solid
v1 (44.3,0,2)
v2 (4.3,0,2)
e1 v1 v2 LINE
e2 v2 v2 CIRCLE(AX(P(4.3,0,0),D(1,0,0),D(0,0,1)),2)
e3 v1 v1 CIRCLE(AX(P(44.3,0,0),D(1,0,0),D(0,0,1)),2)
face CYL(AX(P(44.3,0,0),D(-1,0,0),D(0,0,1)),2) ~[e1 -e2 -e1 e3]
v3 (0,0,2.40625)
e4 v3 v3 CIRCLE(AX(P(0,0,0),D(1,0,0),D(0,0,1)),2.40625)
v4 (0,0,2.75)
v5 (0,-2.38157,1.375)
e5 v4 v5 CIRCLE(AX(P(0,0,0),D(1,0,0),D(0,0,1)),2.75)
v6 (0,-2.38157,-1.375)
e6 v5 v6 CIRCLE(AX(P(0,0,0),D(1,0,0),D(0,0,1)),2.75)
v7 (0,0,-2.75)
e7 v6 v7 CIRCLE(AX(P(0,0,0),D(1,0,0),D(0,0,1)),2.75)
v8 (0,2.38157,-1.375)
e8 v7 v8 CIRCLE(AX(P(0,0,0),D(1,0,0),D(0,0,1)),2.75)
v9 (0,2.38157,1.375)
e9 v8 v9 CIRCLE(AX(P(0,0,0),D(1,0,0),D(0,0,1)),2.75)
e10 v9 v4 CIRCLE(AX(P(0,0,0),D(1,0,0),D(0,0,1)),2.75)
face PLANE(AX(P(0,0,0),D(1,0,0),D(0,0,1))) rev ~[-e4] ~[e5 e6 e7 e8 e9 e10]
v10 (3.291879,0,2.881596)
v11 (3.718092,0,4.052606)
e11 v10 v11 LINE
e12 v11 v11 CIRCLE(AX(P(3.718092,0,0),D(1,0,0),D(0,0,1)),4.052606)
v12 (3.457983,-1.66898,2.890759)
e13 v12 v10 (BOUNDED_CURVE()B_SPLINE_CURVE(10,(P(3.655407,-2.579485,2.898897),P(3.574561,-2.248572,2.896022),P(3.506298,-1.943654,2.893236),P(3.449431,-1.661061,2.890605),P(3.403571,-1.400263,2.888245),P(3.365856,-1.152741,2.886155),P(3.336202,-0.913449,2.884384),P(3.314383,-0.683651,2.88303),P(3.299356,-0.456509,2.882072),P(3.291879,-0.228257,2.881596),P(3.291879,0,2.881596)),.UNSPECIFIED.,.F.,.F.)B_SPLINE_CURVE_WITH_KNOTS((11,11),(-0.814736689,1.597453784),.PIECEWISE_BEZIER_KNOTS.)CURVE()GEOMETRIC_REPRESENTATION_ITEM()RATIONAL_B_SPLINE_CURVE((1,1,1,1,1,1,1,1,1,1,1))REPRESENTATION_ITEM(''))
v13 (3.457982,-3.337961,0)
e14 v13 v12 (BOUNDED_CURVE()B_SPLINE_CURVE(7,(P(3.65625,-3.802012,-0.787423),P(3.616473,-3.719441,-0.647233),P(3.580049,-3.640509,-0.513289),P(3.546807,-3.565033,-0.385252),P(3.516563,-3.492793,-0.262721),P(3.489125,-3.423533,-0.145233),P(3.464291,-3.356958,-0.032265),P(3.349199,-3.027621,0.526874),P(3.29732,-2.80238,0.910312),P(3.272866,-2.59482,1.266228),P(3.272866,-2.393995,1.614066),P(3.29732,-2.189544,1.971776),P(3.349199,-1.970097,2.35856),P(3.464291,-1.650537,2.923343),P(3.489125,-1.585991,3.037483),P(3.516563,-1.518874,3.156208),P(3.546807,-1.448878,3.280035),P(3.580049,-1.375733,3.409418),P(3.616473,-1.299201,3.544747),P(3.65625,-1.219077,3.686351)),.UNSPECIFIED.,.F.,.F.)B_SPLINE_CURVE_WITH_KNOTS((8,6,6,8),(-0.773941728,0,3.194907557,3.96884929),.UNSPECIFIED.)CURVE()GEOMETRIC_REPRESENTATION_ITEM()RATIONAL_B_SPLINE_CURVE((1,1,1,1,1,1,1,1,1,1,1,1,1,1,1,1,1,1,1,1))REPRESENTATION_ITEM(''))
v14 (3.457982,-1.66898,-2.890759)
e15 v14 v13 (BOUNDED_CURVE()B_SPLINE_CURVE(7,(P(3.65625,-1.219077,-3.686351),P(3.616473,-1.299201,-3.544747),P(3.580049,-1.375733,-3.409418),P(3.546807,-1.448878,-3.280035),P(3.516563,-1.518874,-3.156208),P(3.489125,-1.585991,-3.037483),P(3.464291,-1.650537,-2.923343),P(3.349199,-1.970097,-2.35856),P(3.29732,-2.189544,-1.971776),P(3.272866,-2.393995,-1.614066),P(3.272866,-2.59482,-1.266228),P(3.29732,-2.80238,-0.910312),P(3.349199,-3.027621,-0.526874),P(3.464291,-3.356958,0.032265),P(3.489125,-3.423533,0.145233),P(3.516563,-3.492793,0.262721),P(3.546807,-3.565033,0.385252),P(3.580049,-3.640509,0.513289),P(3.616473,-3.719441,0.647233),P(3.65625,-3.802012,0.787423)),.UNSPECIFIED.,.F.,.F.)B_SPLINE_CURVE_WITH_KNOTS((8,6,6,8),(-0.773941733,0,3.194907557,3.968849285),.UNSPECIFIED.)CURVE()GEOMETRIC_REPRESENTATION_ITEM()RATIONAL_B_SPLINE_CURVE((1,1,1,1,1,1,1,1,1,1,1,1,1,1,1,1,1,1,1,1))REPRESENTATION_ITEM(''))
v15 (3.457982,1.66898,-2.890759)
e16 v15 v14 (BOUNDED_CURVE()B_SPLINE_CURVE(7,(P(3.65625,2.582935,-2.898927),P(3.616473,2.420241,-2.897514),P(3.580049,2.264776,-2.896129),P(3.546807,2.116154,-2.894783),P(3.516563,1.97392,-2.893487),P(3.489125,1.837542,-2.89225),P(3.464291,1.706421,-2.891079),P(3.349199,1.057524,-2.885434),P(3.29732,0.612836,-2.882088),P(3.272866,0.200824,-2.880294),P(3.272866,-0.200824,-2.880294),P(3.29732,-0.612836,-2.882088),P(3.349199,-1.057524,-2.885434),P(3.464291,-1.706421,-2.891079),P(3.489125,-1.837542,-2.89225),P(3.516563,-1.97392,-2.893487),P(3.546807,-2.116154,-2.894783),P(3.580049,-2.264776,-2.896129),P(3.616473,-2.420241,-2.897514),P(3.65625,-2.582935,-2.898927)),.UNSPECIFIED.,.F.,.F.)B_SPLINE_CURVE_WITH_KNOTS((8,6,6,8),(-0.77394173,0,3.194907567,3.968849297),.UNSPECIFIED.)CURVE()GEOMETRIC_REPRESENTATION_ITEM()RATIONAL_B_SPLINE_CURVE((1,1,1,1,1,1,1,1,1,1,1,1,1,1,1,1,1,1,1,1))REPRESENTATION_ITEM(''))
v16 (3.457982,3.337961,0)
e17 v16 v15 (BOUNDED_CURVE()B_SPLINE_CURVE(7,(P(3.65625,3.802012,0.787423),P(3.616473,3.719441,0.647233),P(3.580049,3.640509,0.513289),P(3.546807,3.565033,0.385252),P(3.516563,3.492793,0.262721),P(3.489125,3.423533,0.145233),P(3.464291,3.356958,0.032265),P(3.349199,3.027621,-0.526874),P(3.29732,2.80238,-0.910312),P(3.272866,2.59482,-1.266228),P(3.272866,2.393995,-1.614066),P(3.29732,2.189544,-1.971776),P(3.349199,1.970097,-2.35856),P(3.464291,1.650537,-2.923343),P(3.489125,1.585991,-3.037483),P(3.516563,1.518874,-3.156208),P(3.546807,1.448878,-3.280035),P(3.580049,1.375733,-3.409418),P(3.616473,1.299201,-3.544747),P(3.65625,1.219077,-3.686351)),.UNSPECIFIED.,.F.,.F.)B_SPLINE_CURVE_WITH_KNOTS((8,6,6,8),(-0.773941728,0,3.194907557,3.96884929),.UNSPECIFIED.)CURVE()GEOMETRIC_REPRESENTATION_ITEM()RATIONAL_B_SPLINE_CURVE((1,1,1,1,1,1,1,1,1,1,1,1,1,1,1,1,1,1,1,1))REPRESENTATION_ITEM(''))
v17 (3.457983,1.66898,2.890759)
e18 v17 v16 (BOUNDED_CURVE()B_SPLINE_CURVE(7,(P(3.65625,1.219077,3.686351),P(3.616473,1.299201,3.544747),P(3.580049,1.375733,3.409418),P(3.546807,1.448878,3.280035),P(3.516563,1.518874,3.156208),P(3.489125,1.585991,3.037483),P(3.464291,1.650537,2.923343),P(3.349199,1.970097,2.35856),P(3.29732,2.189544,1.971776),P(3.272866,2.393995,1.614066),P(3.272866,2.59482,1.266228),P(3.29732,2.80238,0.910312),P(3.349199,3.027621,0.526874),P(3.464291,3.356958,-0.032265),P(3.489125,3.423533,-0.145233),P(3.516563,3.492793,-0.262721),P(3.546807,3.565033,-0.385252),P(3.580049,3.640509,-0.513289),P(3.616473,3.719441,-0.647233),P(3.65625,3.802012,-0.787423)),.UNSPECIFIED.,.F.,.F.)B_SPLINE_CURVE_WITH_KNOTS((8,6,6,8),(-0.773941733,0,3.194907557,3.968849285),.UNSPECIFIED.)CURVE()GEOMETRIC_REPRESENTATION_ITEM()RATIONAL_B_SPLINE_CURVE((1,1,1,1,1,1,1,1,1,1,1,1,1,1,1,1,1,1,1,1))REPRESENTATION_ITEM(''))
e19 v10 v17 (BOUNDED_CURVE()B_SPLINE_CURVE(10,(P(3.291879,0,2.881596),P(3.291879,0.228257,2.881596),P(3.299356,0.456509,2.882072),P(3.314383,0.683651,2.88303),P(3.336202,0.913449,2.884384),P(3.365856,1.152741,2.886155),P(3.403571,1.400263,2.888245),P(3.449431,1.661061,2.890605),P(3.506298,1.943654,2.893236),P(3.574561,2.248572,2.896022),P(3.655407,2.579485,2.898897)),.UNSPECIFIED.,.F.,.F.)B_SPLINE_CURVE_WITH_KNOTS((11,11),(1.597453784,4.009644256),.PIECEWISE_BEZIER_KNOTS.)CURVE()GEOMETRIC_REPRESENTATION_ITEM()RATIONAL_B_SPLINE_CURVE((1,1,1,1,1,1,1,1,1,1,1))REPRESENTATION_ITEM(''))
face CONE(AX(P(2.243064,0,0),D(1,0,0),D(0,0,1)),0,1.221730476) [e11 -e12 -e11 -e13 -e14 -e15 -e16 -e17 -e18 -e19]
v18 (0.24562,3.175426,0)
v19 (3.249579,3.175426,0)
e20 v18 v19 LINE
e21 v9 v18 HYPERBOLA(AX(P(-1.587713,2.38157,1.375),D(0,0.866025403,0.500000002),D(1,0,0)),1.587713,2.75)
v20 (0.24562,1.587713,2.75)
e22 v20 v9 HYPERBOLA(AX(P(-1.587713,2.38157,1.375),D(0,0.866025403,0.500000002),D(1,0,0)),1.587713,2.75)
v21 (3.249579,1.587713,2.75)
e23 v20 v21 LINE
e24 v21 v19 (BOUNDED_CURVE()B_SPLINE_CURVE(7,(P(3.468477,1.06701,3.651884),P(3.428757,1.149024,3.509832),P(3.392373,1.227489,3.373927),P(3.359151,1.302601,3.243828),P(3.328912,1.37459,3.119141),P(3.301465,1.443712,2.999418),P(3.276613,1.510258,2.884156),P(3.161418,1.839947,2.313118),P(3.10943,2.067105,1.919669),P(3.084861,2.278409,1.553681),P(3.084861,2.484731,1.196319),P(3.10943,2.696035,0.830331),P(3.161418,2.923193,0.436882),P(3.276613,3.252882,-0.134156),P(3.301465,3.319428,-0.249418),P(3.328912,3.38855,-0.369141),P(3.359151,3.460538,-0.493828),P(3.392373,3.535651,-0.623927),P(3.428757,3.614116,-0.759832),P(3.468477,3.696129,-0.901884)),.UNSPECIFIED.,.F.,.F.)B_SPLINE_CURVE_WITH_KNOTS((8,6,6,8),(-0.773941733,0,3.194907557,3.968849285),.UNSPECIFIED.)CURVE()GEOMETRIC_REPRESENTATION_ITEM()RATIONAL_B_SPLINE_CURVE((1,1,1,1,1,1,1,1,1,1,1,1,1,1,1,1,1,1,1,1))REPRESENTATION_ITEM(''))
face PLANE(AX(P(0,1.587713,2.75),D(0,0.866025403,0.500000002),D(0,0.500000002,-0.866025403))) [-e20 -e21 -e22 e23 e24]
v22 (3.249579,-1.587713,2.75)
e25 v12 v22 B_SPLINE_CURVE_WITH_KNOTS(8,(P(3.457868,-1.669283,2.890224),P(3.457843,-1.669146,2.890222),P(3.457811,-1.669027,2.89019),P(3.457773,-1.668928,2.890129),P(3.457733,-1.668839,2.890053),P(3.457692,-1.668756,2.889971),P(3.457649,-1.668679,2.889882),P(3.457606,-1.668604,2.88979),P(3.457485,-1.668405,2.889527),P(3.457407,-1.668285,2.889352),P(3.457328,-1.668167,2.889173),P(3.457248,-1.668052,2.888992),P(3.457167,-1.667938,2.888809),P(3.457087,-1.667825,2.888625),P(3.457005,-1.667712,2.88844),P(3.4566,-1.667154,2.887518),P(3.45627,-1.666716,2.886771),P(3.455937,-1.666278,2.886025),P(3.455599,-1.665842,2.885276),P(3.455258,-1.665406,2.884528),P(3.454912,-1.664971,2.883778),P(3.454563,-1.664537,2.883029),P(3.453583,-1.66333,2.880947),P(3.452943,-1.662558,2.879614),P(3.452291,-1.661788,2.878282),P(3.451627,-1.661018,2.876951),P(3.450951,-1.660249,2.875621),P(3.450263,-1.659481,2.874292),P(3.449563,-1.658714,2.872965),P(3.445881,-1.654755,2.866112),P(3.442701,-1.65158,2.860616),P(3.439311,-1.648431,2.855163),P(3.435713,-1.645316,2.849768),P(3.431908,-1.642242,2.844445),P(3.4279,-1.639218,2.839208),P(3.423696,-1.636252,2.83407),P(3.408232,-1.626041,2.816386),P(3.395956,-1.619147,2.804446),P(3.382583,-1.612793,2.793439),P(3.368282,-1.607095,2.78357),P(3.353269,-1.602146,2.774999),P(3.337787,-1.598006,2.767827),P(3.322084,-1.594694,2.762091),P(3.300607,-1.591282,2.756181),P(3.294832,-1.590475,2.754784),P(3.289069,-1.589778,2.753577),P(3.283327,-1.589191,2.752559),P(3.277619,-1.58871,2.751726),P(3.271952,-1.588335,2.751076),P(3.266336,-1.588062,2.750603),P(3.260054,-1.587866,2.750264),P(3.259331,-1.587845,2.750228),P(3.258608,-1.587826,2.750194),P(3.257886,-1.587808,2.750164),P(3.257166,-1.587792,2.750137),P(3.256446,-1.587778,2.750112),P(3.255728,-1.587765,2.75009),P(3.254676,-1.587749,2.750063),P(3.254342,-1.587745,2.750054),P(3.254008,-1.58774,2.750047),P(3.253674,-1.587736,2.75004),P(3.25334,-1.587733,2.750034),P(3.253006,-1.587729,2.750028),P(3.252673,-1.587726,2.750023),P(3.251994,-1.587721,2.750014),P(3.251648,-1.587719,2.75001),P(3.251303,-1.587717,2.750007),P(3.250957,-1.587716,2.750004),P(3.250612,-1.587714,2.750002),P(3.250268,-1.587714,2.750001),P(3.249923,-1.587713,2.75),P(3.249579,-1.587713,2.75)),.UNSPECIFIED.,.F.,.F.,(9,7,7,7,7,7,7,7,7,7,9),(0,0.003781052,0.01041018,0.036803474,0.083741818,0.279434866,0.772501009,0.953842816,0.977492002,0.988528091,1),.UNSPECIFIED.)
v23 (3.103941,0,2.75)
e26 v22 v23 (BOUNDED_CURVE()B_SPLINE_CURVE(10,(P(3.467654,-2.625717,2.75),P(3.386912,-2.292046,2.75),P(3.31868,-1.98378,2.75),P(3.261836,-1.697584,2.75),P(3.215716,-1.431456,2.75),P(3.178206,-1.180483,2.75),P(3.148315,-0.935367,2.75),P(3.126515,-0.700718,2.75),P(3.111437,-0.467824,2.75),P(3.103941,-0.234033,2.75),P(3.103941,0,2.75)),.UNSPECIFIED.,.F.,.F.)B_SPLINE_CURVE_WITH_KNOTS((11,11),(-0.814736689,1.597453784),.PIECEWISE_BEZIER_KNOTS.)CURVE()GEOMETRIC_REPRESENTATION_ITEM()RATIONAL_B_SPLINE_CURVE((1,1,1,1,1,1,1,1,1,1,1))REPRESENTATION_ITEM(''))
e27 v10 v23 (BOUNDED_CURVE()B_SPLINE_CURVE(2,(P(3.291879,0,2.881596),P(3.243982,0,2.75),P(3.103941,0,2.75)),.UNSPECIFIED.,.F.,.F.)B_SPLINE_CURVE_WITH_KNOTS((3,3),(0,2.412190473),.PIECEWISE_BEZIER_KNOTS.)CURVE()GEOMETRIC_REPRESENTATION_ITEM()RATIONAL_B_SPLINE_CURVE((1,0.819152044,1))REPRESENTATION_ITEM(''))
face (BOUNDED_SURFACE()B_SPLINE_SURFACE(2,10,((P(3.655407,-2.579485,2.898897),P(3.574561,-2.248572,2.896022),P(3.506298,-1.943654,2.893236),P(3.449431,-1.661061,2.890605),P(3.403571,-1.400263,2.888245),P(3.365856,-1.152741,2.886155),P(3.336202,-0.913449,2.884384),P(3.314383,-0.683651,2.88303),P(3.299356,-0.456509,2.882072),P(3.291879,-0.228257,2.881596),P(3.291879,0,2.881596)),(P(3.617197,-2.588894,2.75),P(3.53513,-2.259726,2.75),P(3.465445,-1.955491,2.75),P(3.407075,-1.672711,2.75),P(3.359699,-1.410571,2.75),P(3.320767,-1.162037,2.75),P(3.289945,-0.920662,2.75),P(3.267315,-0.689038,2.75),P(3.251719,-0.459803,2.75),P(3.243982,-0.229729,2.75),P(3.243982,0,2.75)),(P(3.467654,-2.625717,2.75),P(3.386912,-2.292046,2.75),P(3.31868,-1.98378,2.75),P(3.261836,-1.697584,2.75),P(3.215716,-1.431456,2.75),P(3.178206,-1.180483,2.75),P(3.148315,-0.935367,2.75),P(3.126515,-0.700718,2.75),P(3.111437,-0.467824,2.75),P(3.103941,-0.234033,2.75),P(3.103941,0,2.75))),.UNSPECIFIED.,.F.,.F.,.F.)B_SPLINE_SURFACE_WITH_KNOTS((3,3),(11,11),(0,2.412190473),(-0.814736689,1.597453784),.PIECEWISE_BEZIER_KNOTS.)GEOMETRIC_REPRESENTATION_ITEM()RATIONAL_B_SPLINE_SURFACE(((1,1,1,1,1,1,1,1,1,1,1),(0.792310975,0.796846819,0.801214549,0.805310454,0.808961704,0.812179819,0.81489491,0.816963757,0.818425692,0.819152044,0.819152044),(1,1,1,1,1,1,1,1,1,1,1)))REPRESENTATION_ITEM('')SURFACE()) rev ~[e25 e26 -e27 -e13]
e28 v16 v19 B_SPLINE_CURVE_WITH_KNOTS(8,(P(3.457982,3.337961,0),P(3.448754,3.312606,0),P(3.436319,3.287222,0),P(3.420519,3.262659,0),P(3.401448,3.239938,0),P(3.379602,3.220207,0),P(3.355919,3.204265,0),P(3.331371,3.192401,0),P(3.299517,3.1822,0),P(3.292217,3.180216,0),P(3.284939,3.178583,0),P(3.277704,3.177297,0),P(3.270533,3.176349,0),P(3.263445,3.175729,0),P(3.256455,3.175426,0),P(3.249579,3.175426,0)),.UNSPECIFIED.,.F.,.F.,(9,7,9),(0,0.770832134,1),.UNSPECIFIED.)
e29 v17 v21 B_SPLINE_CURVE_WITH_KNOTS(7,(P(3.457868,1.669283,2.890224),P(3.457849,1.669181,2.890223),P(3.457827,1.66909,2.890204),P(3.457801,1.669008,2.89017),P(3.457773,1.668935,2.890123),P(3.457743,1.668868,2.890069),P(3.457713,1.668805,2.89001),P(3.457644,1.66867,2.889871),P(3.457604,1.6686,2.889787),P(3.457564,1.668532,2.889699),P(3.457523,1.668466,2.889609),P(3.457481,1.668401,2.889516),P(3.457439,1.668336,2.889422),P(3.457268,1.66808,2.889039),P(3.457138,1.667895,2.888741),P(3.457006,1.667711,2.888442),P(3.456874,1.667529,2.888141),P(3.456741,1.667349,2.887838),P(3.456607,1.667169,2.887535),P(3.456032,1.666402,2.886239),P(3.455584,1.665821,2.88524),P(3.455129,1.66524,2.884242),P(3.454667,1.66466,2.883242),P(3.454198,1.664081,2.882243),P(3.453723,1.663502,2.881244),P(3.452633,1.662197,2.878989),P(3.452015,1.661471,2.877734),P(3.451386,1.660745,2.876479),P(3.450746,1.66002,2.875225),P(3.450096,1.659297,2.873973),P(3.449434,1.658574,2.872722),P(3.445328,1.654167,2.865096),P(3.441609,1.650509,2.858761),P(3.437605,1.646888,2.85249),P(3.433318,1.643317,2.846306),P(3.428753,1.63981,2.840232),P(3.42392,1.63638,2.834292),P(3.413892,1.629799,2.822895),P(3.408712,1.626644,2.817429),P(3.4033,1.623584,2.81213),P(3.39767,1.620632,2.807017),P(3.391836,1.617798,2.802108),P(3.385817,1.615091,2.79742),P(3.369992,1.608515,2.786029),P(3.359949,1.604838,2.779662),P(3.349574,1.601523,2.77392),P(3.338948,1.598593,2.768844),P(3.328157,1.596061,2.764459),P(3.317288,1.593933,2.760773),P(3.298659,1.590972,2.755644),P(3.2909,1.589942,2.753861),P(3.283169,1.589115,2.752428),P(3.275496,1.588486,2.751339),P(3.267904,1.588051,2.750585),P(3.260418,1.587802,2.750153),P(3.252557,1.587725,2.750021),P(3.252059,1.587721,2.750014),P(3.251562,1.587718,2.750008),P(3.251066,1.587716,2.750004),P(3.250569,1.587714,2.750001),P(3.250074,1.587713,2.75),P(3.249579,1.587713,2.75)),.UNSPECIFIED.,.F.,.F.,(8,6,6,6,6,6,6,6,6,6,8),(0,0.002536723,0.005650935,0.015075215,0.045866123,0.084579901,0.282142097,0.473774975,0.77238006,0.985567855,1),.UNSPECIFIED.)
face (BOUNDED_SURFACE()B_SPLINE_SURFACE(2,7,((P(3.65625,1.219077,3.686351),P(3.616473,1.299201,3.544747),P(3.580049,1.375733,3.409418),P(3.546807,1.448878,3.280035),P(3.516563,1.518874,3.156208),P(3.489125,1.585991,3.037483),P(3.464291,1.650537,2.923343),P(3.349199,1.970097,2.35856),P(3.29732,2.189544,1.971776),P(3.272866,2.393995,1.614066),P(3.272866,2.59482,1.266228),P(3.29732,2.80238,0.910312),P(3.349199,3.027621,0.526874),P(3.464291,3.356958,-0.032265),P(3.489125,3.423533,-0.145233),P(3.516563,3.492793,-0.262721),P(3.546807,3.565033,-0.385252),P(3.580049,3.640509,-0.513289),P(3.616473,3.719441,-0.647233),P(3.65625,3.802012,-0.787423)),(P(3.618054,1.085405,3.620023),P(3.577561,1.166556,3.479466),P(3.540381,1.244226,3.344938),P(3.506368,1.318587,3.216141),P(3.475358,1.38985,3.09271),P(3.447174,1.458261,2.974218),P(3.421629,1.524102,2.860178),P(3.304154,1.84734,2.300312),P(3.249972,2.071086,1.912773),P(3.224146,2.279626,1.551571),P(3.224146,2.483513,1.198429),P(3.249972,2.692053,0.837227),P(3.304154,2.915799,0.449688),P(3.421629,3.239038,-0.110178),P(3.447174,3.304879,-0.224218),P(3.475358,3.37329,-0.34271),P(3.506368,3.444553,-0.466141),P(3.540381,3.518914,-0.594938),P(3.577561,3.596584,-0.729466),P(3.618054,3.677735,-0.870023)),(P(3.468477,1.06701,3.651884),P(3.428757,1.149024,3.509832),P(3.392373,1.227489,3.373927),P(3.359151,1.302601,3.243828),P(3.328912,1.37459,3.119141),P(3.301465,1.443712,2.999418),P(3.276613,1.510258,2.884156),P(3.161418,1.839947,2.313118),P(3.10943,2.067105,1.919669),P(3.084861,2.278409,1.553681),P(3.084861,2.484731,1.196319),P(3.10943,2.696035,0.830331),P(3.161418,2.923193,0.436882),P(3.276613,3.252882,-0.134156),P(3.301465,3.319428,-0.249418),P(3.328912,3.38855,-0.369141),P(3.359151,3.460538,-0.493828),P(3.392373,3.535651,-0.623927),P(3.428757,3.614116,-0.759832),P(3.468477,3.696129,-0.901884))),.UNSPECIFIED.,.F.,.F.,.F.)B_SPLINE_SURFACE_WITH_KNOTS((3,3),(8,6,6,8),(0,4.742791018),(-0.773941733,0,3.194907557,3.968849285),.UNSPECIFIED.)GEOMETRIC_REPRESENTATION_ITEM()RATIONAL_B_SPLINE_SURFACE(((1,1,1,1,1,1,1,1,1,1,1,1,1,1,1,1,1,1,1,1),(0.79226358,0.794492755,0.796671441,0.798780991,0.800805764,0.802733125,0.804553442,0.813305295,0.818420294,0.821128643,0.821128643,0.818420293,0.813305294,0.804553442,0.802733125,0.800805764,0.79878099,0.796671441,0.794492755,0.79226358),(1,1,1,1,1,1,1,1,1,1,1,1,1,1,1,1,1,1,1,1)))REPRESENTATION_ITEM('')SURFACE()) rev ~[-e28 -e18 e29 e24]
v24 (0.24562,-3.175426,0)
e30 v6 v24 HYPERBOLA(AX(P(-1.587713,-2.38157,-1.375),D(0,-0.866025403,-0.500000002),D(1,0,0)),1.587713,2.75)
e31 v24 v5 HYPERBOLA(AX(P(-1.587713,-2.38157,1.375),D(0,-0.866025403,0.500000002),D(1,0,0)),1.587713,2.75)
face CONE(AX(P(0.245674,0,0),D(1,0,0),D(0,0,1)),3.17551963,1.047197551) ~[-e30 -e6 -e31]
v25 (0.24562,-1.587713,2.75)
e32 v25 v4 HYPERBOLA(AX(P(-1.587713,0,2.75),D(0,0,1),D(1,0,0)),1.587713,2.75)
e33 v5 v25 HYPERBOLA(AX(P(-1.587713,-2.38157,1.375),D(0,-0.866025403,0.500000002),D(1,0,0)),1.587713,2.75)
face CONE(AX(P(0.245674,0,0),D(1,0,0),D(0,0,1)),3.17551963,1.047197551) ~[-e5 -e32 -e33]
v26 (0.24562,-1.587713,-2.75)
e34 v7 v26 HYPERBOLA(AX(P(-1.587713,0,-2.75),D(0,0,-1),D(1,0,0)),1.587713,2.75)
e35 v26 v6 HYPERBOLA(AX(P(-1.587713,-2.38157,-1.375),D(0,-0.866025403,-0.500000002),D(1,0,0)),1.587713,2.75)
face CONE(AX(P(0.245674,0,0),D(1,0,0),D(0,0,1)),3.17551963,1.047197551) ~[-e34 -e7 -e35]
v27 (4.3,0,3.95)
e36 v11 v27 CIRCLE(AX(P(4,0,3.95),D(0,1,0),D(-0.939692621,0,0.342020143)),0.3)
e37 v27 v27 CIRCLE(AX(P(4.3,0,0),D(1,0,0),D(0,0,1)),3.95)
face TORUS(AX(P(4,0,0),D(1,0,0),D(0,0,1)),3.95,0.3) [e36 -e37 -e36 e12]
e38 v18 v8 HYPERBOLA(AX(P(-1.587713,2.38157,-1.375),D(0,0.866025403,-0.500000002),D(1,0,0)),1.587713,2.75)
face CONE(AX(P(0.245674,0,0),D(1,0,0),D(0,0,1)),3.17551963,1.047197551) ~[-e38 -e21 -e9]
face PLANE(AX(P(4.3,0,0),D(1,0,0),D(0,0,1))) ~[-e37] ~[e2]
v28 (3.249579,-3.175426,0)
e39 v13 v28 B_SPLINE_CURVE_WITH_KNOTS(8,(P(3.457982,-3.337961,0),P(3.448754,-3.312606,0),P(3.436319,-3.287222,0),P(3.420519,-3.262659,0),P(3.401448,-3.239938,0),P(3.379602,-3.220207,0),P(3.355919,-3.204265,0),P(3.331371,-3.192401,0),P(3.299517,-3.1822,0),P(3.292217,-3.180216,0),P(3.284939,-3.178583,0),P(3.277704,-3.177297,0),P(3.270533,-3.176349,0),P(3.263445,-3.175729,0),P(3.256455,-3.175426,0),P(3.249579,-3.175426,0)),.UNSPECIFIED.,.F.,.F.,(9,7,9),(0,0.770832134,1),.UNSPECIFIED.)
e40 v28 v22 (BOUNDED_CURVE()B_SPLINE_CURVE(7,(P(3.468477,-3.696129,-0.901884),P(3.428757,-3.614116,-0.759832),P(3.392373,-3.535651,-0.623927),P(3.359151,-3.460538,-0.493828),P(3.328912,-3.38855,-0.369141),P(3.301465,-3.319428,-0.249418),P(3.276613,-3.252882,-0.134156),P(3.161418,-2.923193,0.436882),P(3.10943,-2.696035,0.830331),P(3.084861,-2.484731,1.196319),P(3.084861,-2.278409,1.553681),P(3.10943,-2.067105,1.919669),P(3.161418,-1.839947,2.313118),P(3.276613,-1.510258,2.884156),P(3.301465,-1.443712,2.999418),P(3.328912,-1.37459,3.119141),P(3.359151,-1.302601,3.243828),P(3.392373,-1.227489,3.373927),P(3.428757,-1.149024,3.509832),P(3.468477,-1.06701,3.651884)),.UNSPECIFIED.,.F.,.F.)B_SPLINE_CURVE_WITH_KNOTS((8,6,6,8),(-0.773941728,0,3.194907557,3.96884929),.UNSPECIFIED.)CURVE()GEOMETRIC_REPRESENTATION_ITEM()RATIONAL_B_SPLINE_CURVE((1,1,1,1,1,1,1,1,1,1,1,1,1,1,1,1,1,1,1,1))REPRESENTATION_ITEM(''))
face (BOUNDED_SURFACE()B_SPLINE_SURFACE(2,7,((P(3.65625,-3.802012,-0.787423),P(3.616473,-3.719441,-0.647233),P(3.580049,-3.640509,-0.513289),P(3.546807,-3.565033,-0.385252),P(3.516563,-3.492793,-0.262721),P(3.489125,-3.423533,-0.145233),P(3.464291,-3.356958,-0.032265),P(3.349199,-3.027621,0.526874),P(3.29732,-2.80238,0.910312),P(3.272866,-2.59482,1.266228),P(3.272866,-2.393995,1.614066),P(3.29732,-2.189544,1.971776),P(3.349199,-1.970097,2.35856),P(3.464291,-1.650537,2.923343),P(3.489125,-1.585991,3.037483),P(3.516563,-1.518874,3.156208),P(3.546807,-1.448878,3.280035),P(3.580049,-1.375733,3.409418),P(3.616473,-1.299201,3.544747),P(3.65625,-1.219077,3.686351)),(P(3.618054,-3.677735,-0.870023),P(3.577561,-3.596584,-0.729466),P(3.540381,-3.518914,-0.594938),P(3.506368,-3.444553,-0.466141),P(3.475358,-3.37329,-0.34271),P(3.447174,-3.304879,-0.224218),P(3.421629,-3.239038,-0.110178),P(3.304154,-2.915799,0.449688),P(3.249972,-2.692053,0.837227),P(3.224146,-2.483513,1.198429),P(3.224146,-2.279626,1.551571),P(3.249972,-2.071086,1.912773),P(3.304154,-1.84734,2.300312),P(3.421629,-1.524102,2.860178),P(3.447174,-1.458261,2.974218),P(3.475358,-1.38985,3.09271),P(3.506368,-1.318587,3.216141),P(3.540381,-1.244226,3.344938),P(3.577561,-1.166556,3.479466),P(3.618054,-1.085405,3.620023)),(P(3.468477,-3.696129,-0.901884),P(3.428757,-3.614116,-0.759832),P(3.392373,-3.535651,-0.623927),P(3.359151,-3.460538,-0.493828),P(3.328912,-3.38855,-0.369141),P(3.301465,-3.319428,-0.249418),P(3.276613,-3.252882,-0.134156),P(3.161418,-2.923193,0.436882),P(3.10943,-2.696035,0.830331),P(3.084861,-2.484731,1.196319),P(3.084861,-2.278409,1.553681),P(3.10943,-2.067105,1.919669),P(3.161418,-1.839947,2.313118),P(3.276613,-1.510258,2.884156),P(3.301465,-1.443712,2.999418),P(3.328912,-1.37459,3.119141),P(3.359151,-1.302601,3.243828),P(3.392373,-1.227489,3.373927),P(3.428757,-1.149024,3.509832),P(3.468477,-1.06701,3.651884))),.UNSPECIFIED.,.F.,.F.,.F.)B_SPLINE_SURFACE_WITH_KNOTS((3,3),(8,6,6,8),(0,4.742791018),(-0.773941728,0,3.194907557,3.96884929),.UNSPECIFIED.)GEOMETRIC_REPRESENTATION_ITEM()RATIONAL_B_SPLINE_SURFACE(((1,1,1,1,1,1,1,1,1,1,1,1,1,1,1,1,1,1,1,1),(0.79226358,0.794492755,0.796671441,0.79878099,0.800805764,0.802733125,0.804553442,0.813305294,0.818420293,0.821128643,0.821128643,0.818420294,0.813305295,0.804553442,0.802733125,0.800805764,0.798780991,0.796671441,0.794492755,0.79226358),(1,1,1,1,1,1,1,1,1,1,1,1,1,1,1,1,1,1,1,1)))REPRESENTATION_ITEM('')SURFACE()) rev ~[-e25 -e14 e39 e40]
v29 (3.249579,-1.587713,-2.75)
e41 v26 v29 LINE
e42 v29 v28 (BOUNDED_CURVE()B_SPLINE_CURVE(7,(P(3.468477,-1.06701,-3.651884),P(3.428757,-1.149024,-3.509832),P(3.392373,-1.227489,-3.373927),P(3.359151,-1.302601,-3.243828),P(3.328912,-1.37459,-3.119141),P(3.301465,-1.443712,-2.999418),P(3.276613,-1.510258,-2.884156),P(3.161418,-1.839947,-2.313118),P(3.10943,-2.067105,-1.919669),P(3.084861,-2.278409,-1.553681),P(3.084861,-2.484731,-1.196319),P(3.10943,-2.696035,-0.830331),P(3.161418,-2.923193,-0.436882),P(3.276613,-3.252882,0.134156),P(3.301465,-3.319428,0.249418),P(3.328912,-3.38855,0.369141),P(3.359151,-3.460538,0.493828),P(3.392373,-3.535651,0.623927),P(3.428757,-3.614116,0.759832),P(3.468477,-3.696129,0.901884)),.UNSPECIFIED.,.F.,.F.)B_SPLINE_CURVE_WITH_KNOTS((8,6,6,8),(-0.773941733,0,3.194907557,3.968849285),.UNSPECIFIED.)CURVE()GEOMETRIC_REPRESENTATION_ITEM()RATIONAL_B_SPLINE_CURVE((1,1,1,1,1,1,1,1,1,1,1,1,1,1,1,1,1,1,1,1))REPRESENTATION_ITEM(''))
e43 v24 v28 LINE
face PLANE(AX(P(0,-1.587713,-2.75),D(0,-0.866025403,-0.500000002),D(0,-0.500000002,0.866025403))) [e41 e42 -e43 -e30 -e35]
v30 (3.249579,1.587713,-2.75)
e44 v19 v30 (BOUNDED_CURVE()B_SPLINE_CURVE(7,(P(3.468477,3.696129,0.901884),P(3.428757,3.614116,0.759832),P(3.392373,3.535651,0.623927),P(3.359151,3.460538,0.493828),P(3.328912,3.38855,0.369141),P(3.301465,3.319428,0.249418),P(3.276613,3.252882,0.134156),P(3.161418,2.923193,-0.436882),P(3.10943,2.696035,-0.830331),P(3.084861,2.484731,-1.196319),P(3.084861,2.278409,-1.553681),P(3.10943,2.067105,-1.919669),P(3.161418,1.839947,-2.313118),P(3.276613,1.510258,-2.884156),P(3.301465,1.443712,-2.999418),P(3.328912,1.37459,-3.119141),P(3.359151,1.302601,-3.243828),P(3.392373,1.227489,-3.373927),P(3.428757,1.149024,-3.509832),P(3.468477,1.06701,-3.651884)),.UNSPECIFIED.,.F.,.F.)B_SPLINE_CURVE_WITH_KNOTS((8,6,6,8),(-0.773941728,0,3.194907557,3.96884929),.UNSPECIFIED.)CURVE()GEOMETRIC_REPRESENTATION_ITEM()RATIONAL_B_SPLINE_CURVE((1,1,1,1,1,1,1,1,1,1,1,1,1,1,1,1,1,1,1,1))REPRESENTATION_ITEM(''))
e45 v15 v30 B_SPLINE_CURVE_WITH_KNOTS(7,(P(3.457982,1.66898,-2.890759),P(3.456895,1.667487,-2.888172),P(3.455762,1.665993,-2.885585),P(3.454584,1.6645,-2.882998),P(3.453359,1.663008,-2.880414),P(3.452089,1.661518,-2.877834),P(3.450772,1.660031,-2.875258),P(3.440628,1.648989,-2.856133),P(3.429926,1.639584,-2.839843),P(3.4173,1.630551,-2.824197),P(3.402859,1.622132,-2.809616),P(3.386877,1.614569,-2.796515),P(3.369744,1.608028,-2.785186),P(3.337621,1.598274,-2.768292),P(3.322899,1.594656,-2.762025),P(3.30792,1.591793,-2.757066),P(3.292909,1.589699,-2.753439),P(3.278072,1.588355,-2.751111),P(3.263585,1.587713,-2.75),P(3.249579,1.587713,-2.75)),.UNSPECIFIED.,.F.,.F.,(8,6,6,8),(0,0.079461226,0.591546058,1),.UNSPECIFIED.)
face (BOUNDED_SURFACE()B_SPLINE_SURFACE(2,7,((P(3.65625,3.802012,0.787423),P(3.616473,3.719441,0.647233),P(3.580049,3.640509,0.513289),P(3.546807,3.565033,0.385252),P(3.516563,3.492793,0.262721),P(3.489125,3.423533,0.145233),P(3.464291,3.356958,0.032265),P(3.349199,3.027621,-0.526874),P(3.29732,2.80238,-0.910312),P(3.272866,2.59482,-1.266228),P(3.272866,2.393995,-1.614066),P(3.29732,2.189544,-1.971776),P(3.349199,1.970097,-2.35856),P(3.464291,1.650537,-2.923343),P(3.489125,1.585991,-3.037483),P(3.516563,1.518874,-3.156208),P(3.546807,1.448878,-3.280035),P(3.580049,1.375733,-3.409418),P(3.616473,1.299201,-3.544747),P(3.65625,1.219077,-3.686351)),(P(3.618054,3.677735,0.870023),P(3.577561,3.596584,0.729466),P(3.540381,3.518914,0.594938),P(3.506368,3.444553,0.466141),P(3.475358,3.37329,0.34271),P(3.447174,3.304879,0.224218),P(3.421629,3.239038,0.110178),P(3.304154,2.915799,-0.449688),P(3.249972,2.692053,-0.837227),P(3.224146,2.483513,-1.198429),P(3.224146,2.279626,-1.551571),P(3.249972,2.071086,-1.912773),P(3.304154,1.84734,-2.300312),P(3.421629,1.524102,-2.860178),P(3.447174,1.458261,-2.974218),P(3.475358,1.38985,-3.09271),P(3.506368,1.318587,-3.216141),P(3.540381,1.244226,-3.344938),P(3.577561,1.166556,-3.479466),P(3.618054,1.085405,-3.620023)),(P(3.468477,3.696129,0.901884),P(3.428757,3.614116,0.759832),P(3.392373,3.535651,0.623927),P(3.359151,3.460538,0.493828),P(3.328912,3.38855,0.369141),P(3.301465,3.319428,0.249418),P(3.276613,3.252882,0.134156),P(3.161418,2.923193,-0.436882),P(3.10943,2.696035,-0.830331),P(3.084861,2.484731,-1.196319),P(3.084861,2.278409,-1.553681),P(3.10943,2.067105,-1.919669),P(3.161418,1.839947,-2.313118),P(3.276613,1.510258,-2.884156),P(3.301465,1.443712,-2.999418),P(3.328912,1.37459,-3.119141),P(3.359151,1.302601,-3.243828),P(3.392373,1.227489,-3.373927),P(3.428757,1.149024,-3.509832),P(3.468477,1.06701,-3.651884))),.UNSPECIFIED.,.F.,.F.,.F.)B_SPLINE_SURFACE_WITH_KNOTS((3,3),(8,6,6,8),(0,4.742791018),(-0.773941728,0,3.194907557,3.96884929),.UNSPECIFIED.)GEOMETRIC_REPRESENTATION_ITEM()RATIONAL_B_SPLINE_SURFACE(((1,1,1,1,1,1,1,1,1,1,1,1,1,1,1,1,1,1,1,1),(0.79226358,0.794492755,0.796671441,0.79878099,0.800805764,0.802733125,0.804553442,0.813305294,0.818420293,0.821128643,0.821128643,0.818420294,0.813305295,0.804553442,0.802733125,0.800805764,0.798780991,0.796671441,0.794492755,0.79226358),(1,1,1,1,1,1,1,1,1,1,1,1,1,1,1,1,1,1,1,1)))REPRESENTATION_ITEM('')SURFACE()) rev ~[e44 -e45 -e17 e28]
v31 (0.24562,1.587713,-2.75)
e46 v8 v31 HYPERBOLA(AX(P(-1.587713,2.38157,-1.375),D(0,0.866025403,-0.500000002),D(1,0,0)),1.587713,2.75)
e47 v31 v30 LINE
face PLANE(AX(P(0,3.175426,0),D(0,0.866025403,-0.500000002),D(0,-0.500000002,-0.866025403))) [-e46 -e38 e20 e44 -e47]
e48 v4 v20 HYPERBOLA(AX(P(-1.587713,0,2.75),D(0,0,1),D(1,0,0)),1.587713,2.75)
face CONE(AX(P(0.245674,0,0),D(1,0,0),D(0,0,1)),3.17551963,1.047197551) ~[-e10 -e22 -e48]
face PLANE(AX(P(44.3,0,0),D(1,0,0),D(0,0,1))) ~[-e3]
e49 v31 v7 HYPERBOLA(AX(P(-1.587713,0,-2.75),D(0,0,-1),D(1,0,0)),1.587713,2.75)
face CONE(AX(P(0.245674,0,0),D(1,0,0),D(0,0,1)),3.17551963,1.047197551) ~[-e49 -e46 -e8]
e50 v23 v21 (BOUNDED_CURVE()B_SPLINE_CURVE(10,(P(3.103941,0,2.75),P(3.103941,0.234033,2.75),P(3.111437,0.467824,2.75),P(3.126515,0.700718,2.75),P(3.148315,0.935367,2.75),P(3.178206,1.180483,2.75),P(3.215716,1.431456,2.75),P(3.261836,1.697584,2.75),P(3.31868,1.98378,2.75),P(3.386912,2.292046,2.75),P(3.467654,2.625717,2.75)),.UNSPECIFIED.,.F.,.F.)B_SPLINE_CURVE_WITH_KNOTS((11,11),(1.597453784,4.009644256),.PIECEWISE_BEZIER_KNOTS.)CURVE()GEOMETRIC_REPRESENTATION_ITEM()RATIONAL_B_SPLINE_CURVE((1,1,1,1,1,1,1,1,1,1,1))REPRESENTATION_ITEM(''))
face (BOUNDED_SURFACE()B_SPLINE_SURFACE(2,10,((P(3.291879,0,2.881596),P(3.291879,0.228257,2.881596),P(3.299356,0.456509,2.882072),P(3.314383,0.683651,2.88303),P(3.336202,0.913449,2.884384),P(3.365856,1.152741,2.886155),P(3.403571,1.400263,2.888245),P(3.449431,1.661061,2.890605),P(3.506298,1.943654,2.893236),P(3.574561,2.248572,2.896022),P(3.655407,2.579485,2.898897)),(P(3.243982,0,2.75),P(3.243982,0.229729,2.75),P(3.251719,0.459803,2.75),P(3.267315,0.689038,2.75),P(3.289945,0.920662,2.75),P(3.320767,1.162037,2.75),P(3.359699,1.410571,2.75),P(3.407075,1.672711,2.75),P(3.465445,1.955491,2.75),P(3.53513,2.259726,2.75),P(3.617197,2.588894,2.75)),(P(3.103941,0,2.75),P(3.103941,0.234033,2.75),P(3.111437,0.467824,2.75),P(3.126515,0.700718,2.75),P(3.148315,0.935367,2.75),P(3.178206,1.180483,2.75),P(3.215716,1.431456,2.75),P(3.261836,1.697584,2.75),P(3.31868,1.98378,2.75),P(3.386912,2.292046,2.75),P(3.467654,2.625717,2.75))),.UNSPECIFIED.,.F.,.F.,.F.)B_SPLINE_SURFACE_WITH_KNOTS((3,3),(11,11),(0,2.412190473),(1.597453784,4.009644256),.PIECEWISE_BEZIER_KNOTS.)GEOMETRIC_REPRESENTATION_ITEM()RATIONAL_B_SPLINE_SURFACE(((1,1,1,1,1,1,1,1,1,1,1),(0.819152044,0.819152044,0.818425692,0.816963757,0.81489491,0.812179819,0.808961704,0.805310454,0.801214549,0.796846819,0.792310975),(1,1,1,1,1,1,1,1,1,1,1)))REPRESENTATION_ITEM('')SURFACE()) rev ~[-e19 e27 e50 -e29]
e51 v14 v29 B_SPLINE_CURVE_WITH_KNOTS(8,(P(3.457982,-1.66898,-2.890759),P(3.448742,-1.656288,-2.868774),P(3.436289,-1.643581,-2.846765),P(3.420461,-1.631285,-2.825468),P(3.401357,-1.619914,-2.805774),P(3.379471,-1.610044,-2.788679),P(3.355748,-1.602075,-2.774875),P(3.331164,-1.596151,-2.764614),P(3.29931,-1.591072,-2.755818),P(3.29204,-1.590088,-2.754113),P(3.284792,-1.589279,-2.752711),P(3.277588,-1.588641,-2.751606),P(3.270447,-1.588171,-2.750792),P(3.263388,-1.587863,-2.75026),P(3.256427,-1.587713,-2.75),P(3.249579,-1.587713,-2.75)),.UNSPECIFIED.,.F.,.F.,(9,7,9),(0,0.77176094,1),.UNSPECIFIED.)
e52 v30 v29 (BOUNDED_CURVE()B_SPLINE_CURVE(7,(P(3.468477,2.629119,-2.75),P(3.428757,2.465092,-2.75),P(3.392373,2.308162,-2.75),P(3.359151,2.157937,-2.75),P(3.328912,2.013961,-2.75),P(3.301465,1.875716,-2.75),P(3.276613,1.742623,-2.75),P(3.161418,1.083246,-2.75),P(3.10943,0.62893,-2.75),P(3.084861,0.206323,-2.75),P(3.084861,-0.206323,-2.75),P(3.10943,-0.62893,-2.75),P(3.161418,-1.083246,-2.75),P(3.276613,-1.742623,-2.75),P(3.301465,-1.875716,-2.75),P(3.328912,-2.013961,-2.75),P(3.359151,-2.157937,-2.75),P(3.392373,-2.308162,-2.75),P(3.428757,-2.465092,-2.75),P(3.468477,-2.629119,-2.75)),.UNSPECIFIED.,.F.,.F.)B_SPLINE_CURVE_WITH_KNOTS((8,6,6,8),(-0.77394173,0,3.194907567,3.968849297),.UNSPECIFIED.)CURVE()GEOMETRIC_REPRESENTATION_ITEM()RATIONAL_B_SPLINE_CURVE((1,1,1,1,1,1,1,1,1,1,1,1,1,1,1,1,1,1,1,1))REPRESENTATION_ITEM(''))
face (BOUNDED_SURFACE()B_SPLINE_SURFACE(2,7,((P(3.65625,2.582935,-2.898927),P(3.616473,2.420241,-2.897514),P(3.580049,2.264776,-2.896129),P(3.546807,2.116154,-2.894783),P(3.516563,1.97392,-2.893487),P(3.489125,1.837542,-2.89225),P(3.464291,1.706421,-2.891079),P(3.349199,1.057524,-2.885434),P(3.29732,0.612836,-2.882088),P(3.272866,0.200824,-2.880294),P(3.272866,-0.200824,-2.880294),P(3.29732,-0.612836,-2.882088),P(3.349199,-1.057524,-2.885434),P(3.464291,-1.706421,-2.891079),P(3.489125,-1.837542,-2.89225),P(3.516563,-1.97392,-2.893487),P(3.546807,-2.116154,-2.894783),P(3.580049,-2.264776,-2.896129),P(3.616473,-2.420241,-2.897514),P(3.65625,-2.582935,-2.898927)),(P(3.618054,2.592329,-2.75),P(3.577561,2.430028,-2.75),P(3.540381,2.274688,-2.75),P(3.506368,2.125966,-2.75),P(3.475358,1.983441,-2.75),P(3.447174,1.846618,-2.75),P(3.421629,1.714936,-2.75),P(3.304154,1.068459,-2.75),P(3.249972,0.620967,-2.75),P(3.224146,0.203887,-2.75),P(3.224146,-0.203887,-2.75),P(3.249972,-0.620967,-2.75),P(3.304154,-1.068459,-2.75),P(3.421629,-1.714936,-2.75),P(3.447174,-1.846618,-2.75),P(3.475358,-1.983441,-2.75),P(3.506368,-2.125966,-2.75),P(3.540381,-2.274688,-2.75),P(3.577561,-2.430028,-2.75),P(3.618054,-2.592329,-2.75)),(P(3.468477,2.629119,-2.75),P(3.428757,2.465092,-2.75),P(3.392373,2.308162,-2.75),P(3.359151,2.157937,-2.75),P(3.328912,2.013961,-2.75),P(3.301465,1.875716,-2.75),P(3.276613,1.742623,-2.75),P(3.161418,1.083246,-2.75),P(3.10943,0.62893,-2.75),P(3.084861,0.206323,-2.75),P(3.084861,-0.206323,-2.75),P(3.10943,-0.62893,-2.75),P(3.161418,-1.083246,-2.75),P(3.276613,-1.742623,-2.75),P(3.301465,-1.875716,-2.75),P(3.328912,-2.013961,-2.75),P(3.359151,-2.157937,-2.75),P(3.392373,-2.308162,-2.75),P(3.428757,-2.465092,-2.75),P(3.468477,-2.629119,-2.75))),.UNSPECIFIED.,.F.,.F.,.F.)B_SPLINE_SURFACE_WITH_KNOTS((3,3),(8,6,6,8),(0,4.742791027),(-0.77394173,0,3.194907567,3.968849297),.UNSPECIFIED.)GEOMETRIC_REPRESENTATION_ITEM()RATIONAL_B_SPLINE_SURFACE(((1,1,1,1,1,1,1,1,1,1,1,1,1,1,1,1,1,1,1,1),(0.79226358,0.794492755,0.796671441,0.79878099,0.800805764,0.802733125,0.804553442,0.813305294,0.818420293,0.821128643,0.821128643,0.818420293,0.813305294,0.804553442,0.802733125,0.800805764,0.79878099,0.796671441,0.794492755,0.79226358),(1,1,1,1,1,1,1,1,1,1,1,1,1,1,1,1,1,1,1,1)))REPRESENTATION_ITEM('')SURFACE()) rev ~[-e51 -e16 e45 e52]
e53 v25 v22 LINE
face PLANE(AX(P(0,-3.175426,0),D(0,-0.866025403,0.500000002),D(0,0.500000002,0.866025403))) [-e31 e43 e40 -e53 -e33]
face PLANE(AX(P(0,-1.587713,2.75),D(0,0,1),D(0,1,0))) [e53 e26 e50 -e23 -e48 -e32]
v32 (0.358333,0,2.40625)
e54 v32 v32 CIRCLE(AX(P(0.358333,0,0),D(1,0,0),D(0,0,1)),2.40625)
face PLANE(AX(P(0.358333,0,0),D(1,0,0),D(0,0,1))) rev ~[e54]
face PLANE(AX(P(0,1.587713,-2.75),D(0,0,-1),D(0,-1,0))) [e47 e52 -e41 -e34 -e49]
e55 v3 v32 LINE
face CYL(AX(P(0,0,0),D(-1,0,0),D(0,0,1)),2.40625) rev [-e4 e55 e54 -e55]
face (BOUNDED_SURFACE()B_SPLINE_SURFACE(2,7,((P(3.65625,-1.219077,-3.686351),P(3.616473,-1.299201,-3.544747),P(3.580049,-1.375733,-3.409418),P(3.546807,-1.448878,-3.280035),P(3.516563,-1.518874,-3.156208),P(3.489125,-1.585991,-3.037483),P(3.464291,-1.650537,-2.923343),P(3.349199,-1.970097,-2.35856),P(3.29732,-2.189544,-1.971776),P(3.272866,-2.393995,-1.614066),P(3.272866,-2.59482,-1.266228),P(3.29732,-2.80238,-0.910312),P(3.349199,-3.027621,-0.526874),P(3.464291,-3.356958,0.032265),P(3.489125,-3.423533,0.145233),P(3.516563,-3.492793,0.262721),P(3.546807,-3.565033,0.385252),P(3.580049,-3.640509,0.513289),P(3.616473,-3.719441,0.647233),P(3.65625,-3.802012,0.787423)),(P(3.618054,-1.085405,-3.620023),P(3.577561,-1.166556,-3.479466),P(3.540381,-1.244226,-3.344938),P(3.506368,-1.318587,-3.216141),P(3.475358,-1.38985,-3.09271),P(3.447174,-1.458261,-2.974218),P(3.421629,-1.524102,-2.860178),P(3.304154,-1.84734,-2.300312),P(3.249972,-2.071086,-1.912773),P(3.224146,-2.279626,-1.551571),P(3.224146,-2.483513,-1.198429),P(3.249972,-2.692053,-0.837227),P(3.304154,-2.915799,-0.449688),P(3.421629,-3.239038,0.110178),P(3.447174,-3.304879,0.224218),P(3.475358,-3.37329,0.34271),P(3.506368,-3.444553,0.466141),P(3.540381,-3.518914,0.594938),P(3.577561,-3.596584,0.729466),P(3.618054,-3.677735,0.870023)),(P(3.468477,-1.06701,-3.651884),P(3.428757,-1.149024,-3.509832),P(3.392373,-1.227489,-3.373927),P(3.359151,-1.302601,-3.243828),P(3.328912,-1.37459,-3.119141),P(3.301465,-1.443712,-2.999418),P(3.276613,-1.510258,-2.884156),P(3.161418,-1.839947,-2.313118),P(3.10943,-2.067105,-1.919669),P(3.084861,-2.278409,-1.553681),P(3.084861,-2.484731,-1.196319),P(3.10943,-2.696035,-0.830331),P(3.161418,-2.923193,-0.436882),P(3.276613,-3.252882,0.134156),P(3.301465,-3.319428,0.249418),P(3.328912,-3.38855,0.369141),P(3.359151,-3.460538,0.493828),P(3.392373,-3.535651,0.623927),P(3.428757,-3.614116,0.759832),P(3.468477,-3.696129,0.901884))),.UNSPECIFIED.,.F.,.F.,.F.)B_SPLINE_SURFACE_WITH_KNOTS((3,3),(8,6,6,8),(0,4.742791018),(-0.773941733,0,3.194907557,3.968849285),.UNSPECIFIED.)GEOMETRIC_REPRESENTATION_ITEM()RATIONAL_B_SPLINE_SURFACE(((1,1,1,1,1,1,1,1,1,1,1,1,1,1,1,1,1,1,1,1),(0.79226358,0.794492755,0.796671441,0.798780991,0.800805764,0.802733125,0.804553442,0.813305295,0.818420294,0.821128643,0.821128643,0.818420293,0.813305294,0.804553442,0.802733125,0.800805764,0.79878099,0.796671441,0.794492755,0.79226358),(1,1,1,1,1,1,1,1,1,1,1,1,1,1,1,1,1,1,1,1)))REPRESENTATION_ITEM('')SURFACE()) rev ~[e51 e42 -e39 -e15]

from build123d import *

# Parameters (mm, degrees)
SKETCH2_R         = 3.207274827
HEX_DIE_DEPTH     = 4.3
FLANGEHEXFILLET_R = 0.2
SKETCH4_R         = 2.40625
INDENT_DEPTH      = 0.358333333


with BuildPart() as part:
    # BodySke → Base-Revolve (revolve)
    with BuildSketch(Plane.XY, mode=Mode.PRIVATE) as base_revolve_sk:
        Polygon((4.3, 2), (4.3, 3.17551963), (0.245673873, 3.17551963), (0, 2.75), (0, 0), (44.3, 0), (44.3, 2), align=None)
    revolve(base_revolve_sk.sketch.rotate(Axis((-25.4, 0, 0), (1, 0, 0)), 90), axis=Axis((-25.4, 0, 0), (1, 0, 0)))

    # Sketch2 → Hex-Die (cut)
    with BuildSketch(Plane(origin=(0, 0, 0), x_dir=(0, 0, -1), z_dir=(1, 0, 0))):
        Circle(SKETCH2_R)
        Polygon((-2.75, 1.587713247), (0, 3.175426494), (2.75, 1.587713247), (2.75, -1.587713247), (0, -3.175426494), (-2.75, -1.587713247), align=None, mode=Mode.SUBTRACT)
    extrude(amount=HEX_DIE_DEPTH, mode=Mode.SUBTRACT)

    # Sketch5 → Flange (revolve)
    with BuildSketch(Plane.XY, mode=Mode.PRIVATE) as flange_sk:
        with BuildLine():
            Line((2.243064243, 0), (3.718092214, 4.052606043))
            ThreePointArc((3.718092214, 4.052606043), (4.052094453, 4.245442326), (4.3, 3.95))
            Line((4.3, 3.95), (4.3, 0))
            Line((4.3, 0), (2.243064243, 0))
        make_face()
    revolve(flange_sk.sketch.rotate(Axis((0, 0, 0), (1, 0, 0)), 90), axis=Axis((0, 0, 0), (1, 0, 0)))

    # FlangeHexFillet
    flangehexfillet_edges = [part.edges().sort_by_distance(p)[0] for p in [
        (3.285203168, 0.797319684, 2.75),
        (3.24398239, 2.381569871, 1.375),
        (3.24398239, 2.381569871, -1.375),
        (3.243982387, 0, -2.75),
        (3.24398239, -2.381569871, -1.375),
        (3.24398239, -2.381569871, 1.375),
        (3.285203168, -0.797319684, 2.75),
    ]]
    fillet(flangehexfillet_edges, radius=FLANGEHEXFILLET_R)

    # Sketch4 → Indent (cut)
    with BuildSketch(Plane(origin=(0, 0, 0), x_dir=(0, 0, -1), z_dir=(1, 0, 0))):
        with Locations(Location((0, 0, 0), (0, 0, 180))):
            Circle(SKETCH4_R)
    extrude(amount=INDENT_DEPTH, mode=Mode.SUBTRACT)


solid = part.part
